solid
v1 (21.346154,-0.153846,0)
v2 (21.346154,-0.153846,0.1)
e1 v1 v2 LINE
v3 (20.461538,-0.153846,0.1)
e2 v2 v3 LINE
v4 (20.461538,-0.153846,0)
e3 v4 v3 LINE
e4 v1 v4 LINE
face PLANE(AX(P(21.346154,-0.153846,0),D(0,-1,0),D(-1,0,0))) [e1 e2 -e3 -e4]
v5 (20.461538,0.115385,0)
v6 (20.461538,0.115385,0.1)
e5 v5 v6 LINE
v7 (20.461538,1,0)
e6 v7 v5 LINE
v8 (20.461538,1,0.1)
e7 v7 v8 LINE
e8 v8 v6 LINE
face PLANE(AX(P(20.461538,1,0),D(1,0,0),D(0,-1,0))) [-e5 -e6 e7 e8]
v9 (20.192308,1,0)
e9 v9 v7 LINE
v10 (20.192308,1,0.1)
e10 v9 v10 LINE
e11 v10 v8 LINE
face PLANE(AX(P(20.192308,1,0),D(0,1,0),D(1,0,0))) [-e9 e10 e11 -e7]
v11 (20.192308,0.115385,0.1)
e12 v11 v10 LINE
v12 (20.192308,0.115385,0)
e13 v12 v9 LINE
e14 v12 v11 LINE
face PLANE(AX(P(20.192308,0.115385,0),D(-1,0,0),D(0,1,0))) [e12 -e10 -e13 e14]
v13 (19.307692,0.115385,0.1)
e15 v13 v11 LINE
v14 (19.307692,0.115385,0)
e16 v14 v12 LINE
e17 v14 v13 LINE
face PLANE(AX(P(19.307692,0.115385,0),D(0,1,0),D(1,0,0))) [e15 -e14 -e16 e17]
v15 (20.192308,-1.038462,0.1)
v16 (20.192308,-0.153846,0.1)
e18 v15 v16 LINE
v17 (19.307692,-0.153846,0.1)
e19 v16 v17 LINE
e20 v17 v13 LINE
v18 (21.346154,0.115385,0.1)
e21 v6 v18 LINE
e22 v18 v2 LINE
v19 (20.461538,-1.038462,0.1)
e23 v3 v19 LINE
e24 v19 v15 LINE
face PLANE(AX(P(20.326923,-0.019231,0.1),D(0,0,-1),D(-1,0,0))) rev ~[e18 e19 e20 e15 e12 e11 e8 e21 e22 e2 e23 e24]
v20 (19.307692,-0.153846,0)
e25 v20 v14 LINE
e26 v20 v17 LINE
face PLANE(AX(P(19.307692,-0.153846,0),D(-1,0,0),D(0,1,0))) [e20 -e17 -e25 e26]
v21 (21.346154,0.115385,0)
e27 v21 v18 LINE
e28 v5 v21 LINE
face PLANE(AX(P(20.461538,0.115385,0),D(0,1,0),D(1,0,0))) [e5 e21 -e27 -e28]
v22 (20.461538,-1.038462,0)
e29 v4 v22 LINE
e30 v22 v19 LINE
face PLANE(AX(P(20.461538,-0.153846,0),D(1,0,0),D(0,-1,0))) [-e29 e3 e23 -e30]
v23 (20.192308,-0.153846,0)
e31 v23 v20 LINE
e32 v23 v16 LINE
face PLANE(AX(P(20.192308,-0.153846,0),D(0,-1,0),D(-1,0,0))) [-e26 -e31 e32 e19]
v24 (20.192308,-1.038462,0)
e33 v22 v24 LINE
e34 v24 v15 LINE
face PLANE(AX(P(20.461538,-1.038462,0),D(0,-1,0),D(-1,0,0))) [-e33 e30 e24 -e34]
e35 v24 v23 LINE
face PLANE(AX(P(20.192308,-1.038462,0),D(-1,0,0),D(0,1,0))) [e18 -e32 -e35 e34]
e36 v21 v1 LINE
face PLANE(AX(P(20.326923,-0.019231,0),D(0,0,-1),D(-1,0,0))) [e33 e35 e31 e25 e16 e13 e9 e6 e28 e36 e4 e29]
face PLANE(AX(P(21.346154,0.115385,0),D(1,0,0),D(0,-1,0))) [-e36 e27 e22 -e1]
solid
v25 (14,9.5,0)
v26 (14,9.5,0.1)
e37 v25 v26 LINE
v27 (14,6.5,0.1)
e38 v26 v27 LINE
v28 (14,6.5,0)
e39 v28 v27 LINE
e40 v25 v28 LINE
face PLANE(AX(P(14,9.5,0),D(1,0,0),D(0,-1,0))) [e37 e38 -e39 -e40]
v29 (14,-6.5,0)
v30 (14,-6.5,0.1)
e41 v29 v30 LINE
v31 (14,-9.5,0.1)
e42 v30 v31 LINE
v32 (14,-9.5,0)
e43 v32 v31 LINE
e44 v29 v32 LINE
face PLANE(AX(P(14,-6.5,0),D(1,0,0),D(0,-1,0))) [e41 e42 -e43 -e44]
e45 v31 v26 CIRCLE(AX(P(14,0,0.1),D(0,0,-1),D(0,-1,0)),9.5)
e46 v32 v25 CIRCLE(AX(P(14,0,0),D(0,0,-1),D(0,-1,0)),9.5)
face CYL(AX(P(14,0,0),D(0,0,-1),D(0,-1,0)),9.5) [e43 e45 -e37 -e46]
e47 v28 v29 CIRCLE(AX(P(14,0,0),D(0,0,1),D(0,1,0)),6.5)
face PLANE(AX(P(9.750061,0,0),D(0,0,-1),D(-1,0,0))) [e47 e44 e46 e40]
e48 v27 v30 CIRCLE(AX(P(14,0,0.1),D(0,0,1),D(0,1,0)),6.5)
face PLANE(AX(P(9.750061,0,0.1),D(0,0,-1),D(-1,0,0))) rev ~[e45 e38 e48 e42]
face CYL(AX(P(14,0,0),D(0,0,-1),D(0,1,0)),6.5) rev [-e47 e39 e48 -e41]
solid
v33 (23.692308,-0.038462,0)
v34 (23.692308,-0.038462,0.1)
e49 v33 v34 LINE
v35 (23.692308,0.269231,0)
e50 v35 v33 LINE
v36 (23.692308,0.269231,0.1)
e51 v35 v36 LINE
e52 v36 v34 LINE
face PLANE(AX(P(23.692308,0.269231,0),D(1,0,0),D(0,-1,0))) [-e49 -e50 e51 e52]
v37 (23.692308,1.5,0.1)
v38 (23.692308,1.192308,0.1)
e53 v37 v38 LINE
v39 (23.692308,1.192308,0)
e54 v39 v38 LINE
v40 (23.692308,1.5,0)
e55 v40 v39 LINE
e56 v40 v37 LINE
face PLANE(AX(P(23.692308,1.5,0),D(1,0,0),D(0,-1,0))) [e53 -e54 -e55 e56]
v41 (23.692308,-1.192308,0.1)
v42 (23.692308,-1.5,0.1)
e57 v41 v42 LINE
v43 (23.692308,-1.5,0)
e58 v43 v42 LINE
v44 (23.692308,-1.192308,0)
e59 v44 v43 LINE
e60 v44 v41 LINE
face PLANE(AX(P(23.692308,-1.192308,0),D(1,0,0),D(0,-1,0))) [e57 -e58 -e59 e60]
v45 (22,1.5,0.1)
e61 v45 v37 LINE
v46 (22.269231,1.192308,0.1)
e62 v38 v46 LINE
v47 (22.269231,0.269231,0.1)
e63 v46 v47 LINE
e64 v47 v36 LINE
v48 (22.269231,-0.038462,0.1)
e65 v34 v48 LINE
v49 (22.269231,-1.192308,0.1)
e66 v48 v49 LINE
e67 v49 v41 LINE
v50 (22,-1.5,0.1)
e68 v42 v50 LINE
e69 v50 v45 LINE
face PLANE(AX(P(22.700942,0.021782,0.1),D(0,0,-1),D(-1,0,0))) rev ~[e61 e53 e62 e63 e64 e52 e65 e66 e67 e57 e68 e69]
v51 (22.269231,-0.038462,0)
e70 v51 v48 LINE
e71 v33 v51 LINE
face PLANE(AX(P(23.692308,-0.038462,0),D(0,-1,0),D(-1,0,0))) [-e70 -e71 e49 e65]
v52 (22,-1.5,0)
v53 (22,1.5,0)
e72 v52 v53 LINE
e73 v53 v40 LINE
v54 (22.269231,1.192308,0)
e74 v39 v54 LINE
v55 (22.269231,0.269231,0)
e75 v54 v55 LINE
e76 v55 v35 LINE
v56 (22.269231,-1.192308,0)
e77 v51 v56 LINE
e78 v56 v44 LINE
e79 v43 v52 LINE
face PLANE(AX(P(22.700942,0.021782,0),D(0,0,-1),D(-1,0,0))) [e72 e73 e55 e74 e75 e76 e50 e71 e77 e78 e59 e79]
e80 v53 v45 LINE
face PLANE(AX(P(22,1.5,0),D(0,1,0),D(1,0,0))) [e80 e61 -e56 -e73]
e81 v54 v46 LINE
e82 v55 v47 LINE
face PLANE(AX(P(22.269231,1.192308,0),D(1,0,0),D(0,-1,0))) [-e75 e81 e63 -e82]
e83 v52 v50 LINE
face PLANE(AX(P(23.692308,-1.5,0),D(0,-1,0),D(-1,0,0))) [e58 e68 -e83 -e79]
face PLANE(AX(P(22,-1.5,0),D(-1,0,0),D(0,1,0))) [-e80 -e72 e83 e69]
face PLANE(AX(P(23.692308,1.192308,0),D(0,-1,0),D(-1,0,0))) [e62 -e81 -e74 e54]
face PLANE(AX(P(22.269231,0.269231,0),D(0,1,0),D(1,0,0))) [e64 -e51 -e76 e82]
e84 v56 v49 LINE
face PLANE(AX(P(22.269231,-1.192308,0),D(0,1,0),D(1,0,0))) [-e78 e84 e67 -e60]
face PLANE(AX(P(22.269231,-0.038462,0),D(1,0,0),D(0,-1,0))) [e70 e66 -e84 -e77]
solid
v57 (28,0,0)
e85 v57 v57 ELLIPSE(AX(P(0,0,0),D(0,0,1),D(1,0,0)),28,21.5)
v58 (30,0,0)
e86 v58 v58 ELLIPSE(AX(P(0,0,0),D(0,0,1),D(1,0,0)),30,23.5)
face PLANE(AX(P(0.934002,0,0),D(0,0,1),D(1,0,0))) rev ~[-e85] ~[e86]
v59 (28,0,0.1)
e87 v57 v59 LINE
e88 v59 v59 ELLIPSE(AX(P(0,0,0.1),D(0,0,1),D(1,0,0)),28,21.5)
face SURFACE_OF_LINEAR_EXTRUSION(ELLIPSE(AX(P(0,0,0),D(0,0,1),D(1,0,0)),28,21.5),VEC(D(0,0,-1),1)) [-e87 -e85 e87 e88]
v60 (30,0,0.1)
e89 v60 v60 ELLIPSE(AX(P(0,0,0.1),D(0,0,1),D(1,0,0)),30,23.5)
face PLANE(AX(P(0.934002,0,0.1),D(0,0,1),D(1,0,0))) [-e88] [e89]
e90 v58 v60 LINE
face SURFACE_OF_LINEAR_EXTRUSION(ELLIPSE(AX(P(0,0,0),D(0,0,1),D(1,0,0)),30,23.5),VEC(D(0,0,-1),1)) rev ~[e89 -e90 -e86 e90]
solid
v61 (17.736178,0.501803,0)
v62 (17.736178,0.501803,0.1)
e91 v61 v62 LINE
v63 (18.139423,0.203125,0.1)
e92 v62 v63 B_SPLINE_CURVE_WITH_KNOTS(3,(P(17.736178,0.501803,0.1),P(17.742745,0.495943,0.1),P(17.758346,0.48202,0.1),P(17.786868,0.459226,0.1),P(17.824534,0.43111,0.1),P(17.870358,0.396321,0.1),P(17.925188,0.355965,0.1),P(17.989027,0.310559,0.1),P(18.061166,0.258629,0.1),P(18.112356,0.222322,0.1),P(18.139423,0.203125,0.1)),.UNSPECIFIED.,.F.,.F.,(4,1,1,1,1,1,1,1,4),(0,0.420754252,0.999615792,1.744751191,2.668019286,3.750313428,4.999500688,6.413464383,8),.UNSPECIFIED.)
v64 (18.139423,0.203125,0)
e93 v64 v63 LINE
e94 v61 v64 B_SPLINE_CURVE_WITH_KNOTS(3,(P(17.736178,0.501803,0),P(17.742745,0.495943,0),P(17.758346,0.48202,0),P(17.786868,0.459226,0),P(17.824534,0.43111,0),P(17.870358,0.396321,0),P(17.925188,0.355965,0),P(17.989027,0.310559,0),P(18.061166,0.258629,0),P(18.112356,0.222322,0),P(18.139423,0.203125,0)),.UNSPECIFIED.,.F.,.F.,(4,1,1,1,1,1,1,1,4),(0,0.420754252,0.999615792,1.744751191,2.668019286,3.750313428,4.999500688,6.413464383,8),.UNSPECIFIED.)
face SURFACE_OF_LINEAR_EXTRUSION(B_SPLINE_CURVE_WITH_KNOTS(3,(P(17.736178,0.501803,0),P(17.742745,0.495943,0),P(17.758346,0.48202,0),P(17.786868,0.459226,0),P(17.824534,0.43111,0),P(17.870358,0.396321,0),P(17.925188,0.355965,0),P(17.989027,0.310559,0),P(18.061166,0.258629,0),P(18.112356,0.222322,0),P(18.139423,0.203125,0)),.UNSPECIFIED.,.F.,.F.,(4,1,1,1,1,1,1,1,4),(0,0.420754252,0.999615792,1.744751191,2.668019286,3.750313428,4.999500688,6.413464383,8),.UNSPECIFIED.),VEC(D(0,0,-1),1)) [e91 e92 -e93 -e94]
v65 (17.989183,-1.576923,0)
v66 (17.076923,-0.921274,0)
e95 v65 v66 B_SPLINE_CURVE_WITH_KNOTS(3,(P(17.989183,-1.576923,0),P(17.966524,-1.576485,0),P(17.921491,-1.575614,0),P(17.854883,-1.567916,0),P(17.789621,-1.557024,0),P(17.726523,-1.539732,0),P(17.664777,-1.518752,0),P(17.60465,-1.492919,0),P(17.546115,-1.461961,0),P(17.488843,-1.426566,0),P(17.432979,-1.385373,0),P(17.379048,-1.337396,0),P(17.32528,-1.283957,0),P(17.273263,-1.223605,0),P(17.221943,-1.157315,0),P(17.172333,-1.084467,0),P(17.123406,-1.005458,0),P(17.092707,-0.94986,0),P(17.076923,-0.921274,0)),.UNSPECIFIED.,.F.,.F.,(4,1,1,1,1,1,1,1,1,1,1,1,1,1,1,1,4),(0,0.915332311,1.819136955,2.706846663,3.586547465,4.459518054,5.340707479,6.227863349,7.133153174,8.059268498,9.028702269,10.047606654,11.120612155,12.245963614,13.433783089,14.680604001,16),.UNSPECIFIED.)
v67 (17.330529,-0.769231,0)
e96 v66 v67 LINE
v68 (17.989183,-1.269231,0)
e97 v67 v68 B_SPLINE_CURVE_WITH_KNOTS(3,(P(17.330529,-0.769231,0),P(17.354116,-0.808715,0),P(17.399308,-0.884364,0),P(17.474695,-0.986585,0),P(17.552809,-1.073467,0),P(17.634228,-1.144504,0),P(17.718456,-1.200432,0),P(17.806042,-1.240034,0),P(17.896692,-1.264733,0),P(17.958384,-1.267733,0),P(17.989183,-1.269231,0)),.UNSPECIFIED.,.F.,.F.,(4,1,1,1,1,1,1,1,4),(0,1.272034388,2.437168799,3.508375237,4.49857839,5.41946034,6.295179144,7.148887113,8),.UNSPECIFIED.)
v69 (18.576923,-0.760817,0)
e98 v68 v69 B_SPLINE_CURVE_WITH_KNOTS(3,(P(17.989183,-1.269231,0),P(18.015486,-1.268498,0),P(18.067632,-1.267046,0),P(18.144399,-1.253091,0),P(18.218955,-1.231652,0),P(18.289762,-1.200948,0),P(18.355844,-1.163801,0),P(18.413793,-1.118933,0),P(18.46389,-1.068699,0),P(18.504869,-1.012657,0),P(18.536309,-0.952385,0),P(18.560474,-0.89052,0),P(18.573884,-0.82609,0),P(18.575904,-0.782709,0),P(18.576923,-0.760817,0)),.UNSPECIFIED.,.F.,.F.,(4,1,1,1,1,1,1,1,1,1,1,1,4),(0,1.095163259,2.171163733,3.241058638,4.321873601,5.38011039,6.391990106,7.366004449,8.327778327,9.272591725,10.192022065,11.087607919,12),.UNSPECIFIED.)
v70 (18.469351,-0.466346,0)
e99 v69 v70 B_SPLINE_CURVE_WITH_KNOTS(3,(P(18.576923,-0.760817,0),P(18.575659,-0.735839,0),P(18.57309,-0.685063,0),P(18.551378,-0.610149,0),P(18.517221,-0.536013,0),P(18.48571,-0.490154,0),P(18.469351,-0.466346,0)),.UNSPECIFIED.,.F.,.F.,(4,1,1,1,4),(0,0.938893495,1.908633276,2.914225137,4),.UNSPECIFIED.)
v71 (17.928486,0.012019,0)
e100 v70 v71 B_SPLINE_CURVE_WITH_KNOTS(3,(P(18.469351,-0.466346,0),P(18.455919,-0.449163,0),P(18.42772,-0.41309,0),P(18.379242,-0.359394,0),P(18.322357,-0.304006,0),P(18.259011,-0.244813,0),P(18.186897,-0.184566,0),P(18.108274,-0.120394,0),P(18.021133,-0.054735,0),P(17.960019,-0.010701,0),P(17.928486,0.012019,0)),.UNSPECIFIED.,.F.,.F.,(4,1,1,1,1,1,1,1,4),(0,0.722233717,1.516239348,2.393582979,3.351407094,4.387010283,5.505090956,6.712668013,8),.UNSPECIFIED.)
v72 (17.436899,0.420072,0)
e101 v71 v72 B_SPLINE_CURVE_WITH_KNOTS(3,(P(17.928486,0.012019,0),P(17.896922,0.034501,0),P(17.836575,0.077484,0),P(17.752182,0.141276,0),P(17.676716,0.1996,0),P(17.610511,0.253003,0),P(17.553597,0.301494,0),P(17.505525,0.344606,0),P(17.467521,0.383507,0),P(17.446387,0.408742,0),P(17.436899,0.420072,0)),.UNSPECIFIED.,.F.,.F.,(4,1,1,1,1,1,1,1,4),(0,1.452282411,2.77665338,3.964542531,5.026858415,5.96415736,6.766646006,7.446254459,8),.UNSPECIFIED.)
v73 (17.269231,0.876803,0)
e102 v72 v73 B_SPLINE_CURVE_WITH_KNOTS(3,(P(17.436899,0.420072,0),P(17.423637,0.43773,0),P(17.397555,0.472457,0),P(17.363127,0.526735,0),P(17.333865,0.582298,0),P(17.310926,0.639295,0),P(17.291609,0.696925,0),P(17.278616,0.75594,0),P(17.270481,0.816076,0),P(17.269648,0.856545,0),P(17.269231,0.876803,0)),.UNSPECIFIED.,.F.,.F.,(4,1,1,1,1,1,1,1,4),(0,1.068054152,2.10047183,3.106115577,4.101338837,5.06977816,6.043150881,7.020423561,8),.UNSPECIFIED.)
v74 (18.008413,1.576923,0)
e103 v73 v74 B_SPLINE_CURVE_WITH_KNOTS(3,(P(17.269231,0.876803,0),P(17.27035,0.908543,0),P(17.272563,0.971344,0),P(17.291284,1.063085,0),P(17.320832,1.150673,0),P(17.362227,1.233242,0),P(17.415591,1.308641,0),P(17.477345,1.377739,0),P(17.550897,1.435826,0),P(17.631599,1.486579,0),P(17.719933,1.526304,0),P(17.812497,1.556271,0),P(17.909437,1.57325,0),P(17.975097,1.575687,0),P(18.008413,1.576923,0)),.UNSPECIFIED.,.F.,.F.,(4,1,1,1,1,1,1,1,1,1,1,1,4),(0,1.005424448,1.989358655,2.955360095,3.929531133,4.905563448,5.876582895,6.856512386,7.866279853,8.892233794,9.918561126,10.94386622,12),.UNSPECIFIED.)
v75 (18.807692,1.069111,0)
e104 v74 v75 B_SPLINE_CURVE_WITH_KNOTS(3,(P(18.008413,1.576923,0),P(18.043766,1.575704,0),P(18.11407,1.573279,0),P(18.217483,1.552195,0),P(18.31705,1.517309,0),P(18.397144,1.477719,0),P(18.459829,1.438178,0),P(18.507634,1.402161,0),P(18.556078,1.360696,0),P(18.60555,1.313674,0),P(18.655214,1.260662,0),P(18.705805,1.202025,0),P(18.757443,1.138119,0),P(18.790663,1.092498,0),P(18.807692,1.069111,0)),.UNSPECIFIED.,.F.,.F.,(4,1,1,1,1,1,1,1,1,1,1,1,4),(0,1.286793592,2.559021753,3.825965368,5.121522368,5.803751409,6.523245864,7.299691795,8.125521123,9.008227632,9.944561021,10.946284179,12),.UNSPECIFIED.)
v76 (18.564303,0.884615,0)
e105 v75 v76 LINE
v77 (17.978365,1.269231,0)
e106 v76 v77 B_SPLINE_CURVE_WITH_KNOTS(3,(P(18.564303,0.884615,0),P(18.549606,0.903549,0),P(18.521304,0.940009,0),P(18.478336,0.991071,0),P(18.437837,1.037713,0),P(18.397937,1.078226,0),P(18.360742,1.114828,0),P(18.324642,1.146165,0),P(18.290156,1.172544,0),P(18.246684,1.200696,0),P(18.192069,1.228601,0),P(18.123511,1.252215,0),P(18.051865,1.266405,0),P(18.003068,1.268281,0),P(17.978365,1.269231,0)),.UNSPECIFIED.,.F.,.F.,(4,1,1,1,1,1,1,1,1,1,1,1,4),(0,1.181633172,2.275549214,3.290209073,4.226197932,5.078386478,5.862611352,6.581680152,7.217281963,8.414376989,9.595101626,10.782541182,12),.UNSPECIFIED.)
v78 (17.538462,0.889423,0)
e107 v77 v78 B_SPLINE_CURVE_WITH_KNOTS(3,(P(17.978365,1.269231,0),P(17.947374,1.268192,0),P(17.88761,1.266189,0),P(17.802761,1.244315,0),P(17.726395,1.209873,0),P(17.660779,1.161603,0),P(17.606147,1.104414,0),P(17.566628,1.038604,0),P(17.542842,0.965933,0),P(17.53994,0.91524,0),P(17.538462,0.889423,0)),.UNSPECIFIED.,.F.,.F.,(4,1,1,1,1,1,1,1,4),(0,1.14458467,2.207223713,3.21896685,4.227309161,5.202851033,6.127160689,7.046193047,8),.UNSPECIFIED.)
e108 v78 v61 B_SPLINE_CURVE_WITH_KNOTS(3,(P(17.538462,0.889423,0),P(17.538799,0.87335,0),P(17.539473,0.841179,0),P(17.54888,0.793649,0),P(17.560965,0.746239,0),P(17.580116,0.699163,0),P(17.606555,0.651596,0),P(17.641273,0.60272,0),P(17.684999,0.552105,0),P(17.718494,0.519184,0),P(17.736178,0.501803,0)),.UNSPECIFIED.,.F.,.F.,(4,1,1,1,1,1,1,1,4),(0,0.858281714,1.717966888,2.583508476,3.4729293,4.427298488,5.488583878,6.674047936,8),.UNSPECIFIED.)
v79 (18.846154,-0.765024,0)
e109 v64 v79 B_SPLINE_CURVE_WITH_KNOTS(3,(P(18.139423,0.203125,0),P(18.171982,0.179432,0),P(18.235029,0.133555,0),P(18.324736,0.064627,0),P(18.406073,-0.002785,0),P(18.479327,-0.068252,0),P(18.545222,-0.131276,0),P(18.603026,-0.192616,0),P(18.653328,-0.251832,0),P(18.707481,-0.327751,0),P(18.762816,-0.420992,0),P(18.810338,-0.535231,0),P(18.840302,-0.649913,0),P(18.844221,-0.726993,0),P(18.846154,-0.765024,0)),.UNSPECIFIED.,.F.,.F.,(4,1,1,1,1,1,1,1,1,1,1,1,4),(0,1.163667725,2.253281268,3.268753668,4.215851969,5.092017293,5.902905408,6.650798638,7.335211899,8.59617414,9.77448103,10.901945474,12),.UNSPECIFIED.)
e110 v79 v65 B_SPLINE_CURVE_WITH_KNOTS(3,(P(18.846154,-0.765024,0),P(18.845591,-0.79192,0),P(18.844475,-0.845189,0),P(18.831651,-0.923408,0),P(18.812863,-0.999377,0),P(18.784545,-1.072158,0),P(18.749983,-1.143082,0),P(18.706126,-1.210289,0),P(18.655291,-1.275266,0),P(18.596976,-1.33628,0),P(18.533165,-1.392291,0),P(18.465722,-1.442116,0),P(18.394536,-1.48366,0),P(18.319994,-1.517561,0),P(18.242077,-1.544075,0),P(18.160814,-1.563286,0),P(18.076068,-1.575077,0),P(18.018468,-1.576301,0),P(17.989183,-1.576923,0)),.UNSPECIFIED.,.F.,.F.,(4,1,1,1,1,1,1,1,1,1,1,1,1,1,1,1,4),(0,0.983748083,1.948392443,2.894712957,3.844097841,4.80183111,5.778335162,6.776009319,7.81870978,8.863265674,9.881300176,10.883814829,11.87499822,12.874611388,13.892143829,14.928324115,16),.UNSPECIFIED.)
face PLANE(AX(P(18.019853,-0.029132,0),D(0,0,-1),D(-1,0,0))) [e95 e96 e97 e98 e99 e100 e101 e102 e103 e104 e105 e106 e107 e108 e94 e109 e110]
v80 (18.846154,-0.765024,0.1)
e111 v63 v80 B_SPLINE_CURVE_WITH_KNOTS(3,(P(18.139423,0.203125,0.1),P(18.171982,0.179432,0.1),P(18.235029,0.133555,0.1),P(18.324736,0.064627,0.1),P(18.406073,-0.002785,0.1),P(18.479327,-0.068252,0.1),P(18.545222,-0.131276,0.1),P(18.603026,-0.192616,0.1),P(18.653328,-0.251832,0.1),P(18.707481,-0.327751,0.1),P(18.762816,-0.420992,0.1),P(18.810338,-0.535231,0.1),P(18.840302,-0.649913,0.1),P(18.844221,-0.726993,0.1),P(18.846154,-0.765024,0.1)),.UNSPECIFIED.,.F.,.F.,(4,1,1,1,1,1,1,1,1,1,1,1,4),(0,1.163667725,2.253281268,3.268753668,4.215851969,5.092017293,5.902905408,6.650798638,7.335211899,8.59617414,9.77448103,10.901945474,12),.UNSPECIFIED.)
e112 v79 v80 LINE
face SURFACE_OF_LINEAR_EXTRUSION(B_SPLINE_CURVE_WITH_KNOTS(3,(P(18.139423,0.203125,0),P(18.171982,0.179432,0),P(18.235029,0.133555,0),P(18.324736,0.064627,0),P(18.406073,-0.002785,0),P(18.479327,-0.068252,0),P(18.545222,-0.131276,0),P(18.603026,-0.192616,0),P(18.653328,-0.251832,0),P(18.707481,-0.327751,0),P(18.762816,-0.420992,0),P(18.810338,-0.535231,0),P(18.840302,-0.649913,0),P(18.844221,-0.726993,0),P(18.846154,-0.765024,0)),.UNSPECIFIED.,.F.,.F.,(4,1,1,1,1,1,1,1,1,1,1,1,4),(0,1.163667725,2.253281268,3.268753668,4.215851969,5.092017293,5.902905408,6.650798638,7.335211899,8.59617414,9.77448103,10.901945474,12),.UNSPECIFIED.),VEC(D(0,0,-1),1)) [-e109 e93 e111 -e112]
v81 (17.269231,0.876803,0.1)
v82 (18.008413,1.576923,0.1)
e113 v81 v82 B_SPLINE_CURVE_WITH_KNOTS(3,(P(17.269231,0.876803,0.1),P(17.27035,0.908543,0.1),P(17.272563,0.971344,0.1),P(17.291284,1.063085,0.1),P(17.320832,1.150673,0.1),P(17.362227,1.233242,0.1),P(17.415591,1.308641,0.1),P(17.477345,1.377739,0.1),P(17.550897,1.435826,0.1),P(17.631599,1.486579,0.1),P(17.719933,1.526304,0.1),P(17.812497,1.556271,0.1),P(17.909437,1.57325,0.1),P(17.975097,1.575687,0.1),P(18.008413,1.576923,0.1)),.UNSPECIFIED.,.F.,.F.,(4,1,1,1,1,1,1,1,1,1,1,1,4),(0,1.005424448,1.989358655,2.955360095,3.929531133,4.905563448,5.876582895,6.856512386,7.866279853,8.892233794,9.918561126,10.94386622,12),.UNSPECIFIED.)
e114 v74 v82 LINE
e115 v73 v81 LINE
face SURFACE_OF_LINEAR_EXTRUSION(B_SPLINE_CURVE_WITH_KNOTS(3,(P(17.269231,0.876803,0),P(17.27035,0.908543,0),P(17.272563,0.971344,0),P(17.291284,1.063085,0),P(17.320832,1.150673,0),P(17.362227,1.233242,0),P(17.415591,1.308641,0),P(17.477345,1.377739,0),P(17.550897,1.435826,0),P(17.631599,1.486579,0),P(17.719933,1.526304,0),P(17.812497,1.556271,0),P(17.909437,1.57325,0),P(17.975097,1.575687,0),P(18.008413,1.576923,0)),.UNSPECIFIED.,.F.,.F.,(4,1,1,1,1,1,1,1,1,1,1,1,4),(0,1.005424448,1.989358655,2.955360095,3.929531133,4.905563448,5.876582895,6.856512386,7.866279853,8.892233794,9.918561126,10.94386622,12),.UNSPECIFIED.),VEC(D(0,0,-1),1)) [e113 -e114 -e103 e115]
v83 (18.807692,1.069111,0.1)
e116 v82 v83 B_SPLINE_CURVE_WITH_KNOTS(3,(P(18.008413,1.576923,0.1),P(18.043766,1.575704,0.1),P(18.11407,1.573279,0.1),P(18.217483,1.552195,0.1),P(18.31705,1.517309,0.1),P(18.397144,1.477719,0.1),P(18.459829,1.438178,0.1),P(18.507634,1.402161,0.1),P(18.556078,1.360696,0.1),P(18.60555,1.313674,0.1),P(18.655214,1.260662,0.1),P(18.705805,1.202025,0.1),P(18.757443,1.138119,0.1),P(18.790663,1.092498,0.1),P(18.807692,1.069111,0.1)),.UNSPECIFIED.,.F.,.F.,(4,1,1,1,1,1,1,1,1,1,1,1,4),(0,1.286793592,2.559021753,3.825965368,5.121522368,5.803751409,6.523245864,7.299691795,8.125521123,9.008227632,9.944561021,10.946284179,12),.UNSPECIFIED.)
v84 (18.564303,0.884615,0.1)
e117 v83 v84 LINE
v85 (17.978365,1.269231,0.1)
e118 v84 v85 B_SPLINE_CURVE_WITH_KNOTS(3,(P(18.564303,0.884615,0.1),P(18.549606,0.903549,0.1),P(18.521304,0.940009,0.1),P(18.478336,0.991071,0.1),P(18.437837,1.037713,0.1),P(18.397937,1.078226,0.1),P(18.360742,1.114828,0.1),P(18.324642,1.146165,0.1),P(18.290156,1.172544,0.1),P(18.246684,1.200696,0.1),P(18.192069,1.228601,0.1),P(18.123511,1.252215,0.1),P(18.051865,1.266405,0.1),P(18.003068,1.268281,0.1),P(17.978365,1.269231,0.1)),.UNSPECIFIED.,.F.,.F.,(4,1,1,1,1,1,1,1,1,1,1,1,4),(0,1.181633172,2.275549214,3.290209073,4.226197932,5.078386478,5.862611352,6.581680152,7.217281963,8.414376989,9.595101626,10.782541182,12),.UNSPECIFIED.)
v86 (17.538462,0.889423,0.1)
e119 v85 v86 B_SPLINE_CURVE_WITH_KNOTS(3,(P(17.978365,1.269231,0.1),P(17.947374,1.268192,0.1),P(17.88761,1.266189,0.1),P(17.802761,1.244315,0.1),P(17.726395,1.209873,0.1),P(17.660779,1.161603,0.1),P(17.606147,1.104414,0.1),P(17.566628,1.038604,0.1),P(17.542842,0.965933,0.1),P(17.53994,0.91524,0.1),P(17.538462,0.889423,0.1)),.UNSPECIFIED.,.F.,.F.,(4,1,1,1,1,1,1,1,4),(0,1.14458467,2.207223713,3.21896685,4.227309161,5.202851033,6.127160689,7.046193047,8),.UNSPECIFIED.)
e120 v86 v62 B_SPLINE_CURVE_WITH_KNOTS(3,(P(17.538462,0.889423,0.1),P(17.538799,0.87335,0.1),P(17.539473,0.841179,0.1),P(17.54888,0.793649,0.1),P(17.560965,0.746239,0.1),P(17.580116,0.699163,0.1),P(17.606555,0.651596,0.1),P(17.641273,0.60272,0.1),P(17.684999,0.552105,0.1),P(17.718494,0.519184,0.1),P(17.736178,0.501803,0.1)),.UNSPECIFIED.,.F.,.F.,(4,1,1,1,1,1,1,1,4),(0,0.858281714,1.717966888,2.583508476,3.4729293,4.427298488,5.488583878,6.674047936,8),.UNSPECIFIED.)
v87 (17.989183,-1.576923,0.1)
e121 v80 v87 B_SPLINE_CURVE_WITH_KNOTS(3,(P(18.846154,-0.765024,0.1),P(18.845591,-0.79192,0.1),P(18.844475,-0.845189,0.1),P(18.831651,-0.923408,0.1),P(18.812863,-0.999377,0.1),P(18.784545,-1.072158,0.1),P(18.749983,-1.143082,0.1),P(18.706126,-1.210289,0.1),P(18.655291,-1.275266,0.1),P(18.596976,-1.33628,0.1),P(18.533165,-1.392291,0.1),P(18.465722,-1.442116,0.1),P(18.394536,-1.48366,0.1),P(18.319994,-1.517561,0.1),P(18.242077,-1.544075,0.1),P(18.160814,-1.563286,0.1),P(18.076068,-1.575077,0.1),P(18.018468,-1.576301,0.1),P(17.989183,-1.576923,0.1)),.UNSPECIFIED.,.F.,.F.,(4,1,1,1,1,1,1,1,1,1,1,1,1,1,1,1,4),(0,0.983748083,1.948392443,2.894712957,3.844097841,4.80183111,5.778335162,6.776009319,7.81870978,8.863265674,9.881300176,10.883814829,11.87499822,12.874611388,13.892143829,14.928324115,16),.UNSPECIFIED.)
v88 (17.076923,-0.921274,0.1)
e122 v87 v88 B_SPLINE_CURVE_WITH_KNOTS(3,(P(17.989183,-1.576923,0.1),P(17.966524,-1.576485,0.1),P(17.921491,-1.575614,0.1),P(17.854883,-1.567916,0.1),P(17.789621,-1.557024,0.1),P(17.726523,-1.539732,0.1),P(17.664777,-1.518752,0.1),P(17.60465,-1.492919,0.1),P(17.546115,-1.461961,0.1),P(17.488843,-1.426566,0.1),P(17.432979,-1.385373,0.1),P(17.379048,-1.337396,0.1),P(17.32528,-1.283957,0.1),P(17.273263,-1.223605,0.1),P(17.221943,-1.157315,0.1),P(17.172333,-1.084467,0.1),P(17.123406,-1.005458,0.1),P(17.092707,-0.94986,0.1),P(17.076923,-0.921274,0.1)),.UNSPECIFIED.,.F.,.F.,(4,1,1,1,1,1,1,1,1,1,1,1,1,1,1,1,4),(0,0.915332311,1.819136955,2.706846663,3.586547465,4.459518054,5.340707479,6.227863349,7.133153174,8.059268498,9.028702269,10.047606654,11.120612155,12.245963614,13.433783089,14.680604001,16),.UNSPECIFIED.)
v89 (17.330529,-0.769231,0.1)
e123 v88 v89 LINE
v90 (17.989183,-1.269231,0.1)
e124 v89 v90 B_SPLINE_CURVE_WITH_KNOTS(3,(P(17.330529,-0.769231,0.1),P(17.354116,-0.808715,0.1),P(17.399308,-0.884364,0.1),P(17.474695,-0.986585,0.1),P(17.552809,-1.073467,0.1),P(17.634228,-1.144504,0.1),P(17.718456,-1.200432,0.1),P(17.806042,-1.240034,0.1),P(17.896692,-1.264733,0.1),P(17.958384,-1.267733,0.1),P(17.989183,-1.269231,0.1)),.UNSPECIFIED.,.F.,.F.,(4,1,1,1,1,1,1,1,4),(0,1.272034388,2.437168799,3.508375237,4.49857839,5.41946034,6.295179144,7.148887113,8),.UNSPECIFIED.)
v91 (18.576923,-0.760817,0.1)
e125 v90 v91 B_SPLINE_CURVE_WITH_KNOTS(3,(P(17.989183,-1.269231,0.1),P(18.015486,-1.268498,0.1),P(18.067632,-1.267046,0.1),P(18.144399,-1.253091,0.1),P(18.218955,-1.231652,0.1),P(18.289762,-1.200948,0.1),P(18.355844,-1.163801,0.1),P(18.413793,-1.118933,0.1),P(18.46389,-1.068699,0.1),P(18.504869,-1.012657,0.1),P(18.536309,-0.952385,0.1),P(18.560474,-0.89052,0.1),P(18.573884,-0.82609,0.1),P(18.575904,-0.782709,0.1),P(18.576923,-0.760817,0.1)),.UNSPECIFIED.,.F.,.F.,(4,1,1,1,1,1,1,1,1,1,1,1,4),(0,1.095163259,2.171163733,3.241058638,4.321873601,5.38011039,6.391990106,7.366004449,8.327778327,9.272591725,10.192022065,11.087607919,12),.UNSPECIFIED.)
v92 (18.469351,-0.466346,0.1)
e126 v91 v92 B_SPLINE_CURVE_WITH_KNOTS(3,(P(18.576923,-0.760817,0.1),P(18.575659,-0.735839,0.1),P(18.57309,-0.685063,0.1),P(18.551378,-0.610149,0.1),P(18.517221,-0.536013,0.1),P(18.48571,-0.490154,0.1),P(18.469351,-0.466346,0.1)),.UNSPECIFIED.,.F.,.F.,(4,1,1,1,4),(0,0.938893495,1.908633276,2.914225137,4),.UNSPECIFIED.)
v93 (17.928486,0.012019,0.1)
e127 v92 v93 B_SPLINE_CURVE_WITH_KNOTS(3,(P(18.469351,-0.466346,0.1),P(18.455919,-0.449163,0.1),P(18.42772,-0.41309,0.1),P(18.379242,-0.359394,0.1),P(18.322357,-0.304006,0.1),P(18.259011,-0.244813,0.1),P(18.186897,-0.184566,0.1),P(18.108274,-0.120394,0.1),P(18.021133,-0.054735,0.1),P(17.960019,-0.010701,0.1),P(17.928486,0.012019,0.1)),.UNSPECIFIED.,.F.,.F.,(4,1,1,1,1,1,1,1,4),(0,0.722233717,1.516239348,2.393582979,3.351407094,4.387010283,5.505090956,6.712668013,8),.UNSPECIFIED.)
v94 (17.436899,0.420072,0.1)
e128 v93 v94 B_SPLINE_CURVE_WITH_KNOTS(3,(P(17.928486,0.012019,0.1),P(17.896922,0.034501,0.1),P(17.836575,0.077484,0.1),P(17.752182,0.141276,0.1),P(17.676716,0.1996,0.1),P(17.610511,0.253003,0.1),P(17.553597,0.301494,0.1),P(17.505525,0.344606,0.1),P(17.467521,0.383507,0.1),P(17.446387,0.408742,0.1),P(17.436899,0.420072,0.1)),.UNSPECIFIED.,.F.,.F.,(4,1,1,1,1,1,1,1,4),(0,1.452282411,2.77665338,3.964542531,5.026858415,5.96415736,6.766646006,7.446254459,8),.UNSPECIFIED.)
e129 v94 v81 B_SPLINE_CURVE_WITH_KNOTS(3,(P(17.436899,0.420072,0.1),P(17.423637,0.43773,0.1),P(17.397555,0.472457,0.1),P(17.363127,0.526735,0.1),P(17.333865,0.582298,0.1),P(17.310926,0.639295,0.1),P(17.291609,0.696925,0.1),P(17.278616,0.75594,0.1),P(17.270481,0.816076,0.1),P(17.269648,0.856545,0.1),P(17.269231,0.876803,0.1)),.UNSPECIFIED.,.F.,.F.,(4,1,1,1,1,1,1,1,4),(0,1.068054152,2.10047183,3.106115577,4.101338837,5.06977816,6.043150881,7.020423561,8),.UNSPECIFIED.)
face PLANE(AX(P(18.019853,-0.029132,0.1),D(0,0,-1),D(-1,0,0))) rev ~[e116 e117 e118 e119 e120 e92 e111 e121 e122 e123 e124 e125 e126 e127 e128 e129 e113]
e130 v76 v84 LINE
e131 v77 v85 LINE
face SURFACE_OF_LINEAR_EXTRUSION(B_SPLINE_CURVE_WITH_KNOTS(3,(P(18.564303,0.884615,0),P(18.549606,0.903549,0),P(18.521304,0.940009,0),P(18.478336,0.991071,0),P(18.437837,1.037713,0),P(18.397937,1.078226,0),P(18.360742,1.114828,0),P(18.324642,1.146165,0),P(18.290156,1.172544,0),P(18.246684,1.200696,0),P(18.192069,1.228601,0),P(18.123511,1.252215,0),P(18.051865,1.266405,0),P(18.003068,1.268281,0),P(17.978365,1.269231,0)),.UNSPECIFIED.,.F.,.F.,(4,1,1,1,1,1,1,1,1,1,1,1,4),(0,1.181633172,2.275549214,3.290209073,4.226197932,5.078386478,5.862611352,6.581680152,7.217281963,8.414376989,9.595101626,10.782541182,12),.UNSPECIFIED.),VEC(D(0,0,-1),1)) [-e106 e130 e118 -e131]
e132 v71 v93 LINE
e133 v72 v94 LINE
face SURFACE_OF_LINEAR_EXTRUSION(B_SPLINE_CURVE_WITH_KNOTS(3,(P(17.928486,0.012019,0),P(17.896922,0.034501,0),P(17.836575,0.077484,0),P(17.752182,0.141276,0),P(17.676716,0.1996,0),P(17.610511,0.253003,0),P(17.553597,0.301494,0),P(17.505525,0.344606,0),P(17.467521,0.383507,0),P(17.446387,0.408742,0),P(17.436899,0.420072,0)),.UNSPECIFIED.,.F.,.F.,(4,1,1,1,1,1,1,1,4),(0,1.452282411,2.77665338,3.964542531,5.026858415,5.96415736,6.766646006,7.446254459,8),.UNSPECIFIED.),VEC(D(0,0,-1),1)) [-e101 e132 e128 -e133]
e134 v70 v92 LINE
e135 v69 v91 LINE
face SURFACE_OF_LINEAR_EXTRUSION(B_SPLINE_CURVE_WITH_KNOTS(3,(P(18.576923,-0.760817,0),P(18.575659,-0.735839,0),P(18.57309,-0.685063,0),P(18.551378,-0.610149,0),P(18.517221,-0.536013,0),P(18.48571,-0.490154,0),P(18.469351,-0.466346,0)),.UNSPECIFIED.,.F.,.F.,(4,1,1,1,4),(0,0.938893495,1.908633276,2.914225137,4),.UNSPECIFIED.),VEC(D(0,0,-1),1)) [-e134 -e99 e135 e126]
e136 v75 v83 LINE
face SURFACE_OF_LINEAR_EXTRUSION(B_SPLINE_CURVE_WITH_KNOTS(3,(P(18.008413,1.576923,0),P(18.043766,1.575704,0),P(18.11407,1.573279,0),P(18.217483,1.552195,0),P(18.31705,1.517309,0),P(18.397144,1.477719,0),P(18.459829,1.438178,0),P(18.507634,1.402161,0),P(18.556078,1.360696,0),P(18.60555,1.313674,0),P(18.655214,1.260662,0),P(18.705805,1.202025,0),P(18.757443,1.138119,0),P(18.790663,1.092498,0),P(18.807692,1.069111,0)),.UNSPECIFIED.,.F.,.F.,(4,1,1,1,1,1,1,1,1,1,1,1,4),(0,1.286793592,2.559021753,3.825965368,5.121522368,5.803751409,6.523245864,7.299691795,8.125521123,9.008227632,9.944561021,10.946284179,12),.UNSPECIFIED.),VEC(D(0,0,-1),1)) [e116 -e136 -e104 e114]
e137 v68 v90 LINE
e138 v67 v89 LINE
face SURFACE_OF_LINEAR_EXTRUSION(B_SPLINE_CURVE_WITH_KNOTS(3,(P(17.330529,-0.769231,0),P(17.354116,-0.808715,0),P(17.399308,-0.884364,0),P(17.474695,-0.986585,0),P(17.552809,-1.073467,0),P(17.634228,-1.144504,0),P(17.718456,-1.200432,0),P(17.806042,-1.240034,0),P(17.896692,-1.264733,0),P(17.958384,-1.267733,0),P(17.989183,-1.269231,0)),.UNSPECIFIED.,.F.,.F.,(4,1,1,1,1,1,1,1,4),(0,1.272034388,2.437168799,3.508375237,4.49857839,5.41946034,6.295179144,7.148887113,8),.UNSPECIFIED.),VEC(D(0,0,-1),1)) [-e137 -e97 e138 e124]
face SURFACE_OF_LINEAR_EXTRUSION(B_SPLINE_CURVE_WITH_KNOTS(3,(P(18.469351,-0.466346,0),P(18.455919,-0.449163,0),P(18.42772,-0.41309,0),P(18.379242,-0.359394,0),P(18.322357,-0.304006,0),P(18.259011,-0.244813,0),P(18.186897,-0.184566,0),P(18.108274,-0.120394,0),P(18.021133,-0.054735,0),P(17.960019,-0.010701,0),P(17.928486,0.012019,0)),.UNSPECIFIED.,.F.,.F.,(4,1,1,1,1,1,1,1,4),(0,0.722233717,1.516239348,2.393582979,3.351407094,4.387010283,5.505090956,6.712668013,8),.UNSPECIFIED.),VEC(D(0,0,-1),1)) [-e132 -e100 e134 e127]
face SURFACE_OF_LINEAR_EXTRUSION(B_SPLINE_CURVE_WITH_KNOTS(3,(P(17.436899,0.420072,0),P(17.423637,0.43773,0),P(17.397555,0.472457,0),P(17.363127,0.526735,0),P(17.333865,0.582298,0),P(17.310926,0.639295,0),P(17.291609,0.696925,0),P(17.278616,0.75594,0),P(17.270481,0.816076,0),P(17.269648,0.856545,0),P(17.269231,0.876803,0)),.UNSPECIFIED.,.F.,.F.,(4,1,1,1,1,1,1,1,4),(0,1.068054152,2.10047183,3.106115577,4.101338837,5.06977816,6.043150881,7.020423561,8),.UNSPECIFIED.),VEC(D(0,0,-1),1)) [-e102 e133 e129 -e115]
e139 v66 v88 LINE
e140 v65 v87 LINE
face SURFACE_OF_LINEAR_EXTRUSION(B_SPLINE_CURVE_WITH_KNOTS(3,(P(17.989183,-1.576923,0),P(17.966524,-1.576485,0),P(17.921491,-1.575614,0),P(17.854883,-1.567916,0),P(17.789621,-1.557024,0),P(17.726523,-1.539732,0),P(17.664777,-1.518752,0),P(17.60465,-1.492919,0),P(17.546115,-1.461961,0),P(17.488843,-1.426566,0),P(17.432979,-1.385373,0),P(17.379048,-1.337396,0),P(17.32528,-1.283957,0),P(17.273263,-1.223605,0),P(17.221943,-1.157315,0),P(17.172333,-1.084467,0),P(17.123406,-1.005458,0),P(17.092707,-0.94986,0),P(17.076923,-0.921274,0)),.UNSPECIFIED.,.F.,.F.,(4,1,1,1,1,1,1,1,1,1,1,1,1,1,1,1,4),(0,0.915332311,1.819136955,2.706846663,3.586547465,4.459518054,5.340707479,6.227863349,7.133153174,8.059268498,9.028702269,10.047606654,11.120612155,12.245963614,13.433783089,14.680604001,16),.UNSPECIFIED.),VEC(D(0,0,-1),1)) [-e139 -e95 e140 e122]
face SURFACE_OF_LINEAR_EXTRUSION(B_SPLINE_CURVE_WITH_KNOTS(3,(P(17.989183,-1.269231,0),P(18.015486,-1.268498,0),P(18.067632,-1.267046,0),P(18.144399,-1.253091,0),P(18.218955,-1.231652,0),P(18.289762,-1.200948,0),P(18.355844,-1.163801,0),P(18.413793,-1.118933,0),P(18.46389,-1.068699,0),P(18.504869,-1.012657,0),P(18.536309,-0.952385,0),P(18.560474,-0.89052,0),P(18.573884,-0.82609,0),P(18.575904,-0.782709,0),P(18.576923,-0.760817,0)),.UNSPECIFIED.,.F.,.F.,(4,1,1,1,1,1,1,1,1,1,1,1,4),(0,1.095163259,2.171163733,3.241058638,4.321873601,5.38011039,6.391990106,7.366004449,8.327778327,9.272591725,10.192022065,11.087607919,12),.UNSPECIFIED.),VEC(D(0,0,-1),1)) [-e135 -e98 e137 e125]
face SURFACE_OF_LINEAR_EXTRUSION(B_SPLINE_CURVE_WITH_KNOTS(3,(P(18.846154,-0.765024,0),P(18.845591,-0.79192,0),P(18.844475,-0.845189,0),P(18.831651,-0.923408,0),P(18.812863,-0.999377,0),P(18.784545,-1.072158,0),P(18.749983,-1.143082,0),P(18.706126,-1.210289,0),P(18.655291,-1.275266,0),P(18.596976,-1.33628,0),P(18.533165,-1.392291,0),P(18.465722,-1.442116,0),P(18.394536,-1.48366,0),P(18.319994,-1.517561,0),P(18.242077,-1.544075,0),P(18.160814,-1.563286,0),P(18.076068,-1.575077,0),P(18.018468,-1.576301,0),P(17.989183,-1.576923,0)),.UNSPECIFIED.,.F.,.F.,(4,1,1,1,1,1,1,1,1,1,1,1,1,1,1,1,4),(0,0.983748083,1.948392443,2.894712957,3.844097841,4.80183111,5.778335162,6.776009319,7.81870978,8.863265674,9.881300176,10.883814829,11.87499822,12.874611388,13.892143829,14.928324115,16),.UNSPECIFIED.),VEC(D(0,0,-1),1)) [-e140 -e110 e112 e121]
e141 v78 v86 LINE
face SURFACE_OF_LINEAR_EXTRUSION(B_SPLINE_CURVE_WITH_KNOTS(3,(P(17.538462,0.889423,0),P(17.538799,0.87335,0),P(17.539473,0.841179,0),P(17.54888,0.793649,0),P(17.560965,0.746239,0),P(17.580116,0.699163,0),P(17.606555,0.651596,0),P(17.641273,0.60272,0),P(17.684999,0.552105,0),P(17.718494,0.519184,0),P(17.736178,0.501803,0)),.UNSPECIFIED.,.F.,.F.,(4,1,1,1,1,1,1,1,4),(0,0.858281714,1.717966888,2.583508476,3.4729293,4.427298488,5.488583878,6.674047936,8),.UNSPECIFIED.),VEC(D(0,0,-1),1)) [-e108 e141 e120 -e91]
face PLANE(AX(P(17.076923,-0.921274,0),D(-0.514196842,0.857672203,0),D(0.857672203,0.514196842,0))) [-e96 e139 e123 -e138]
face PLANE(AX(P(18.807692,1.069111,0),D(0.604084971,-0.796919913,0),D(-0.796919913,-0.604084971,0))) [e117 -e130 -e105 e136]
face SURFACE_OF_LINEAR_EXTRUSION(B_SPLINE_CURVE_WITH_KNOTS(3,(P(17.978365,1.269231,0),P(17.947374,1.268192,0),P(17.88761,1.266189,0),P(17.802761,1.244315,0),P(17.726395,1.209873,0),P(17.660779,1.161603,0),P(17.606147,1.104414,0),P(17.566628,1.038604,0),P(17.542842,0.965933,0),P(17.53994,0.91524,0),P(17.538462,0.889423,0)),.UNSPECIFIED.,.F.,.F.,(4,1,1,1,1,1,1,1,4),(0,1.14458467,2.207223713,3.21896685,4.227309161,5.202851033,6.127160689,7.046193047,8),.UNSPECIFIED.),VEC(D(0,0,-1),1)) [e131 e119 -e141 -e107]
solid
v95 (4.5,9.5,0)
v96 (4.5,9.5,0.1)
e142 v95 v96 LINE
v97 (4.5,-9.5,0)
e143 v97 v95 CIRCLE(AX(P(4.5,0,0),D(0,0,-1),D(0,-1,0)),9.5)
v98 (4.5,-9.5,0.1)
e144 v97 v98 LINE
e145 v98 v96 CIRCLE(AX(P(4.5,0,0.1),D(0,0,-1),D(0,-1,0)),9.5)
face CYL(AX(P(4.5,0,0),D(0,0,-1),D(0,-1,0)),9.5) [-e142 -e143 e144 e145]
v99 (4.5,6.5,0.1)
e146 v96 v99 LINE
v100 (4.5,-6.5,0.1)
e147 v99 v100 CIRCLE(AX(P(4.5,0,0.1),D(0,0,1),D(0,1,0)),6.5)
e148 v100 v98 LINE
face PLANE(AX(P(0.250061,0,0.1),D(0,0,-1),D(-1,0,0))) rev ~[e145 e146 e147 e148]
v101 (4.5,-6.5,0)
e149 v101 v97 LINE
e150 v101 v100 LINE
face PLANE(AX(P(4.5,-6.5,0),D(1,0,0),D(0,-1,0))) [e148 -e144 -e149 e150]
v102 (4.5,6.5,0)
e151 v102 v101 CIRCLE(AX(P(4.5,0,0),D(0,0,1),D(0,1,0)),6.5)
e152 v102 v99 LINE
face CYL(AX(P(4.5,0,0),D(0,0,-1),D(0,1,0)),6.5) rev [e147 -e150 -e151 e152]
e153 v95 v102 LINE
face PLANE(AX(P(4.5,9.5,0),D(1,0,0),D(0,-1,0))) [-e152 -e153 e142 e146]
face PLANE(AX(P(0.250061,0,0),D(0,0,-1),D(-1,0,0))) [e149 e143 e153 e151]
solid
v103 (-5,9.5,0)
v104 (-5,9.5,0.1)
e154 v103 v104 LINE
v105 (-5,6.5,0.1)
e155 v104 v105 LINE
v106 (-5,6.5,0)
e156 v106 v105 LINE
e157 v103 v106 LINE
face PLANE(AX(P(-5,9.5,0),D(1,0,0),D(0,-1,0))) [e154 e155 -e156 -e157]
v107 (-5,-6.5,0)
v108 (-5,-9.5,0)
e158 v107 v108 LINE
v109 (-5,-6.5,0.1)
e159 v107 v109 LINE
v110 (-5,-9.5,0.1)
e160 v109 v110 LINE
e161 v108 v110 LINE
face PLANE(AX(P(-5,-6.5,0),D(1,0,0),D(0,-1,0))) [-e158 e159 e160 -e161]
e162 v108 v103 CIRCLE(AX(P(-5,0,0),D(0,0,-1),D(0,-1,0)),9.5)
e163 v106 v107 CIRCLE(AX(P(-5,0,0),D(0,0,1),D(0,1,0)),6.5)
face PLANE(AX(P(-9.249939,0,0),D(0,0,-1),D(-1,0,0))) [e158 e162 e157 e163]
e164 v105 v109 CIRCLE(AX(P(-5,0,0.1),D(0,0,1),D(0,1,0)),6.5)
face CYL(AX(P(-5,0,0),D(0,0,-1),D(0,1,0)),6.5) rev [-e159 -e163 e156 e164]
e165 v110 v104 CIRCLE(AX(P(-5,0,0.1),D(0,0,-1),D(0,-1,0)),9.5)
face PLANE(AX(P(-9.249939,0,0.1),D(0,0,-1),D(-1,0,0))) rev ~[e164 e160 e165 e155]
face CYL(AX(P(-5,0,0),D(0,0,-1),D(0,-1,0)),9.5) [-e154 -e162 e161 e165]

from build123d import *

# Parameters (mm, degrees)
SKIZZE1_RX                        = 30
SKIZZE1_RY                        = 23.5
SKIZZE1_RX_2                      = 28
SKIZZE1_RY_2                      = 21.5
AUFSATZ_LINEAR_AUSTRAGEN1_DEPTH   = 0.1
AUFSATZ_LINEAR_AUSTRAGEN1_2_DEPTH = 0.1
AUFSATZ_LINEAR_AUSTRAGEN1_3_DEPTH = 0.1
AUFSATZ_LINEAR_AUSTRAGEN1_4_DEPTH = 0.1
AUFSATZ_LINEAR_AUSTRAGEN2_DEPTH   = 0.1
AUFSATZ_LINEAR_AUSTRAGEN2_2_DEPTH = 0.1
AUFSATZ_LINEAR_AUSTRAGEN2_3_DEPTH = 0.1


with BuildPart() as part:
    # Skizze1 → Aufsatz-Linear austragen1 (new body)
    with BuildSketch(Plane.XY):
        with Locations((0, 0)):
            Ellipse(SKIZZE1_RX, SKIZZE1_RY)
        with Locations((0, 0)):
            Ellipse(SKIZZE1_RX_2, SKIZZE1_RY_2, mode=Mode.SUBTRACT)
    extrude(amount=AUFSATZ_LINEAR_AUSTRAGEN1_DEPTH)


with BuildPart() as body_2:
    # Skizze1 → Aufsatz-Linear austragen1 2 (new body)
    with BuildSketch(Plane.XY):
        with BuildLine():
            ThreePointArc((-5, 6.5), (-11.5, 0), (-5, -6.5))
            Line((-5, -6.5), (-5, -9.5))
            ThreePointArc((-5, -9.5), (-14.5, 0), (-5, 9.5))
            Line((-5, 9.5), (-5, 6.5))
        make_face()
    extrude(amount=AUFSATZ_LINEAR_AUSTRAGEN1_2_DEPTH)


with BuildPart() as body_3:
    # Skizze1 → Aufsatz-Linear austragen1 3 (new body)
    with BuildSketch(Plane.XY):
        with BuildLine():
            ThreePointArc((4.5, 6.5), (-2, 0), (4.5, -6.5))
            Line((4.5, -6.5), (4.5, -9.5))
            ThreePointArc((4.5, -9.5), (-5, 0), (4.5, 9.5))
            Line((4.5, 9.5), (4.5, 6.5))
        make_face()
    extrude(amount=AUFSATZ_LINEAR_AUSTRAGEN1_3_DEPTH)


with BuildPart() as body_4:
    # Skizze1 → Aufsatz-Linear austragen1 4 (new body)
    with BuildSketch(Plane.XY):
        with BuildLine():
            ThreePointArc((14, 6.5), (7.5, 0), (14, -6.5))
            Line((14, -6.5), (14, -9.5))
            ThreePointArc((14, -9.5), (4.5, 0), (14, 9.5))
            Line((14, 9.5), (14, 6.5))
        make_face()
    extrude(amount=AUFSATZ_LINEAR_AUSTRAGEN1_4_DEPTH)


with BuildPart() as body_5:
    # Skizze4 → Aufsatz-Linear austragen2 (new body)
    with BuildSketch(Plane.XY):
        with BuildLine():
            Line((17.076923077, -0.921274038), (17.330528846, -0.769230769))
            add(Edge.make_bspline(
                [(17.330528846, -0.769230769), (17.354115907, -0.808714528), (17.399307804, -0.884363885), (17.474694684, -0.986585063), (17.552808607, -1.073466912), (17.634228036, -1.144504004), (17.718455992, -1.200431621), (17.806042324, -1.240033534), (17.896691876, -1.264732941), (17.958383723, -1.267733015), (17.989182692, -1.269230769)],
                knots=[0, 0, 0, 0, 1.272034388, 2.437168799, 3.508375237, 4.49857839, 5.41946034, 6.295179144, 7.148887113, 8, 8, 8, 8], degree=3))
            add(Edge.make_bspline(
                [(17.989182692, -1.269230769), (18.015485716, -1.268498193), (18.067631521, -1.267045858), (18.144399158, -1.253090885), (18.218954988, -1.231651917), (18.289762392, -1.200948262), (18.355844347, -1.163800988), (18.413792943, -1.118932836), (18.463889612, -1.068698946), (18.504868853, -1.01265667), (18.536308883, -0.952384829), (18.560473513, -0.890519727), (18.573883576, -0.826089526), (18.575903651, -0.782709129), (18.576923077, -0.760817308)],
                knots=[0, 0, 0, 0, 1.095163259, 2.171163733, 3.241058638, 4.321873601, 5.38011039, 6.391990106, 7.366004449, 8.327778327, 9.272591725, 10.192022065, 11.087607919, 12, 12, 12, 12], degree=3))
            add(Edge.make_bspline(
                [(18.576923077, -0.760817308), (18.575659382, -0.735839437), (18.573090475, -0.685063074), (18.551377778, -0.610149086), (18.51722128, -0.536012598), (18.485710443, -0.49015437), (18.469350962, -0.466346154)],
                knots=[0, 0, 0, 0, 0.938893495, 1.908633276, 2.914225137, 4, 4, 4, 4], degree=3))
            add(Edge.make_bspline(
                [(18.469350962, -0.466346154), (18.455919007, -0.449163162), (18.427720297, -0.413089621), (18.379242429, -0.359393704), (18.322357188, -0.304006488), (18.259011284, -0.244813011), (18.186897208, -0.184566328), (18.108273624, -0.120393518), (18.021133174, -0.054735024), (17.960019319, -0.010701396), (17.928485577, 0.012019231)],
                knots=[0, 0, 0, 0, 0.722233717, 1.516239348, 2.393582979, 3.351407094, 4.387010283, 5.505090956, 6.712668013, 8, 8, 8, 8], degree=3))
            add(Edge.make_bspline(
                [(17.928485577, 0.012019231), (17.896922152, 0.034500877), (17.836575286, 0.077484074), (17.752182215, 0.141276317), (17.676715533, 0.199599634), (17.610510662, 0.253003073), (17.553596721, 0.301493877), (17.505525226, 0.344606396), (17.467520749, 0.383506591), (17.446387394, 0.408742027), (17.436899038, 0.420072115)],
                knots=[0, 0, 0, 0, 1.452282411, 2.77665338, 3.964542531, 5.026858415, 5.96415736, 6.766646006, 7.446254459, 8, 8, 8, 8], degree=3))
            add(Edge.make_bspline(
                [(17.436899038, 0.420072115), (17.423636857, 0.437730147), (17.397554997, 0.472457036), (17.363126992, 0.526735485), (17.333864853, 0.582298284), (17.310925711, 0.63929474), (17.291608952, 0.696924679), (17.27861644, 0.755940032), (17.270480957, 0.816075991), (17.269647825, 0.856544706), (17.269230769, 0.876802885)],
                knots=[0, 0, 0, 0, 1.068054152, 2.10047183, 3.106115577, 4.101338837, 5.06977816, 6.043150881, 7.020423561, 8, 8, 8, 8], degree=3))
            add(Edge.make_bspline(
                [(17.269230769, 0.876802885), (17.27034952, 0.908542691), (17.272563108, 0.971343889), (17.291283552, 1.063084601), (17.320831746, 1.150672958), (17.362227365, 1.233241816), (17.41559081, 1.308641228), (17.477344502, 1.377738503), (17.550897205, 1.435825859), (17.631599453, 1.486579052), (17.719933486, 1.52630413), (17.812497118, 1.556270685), (17.909437465, 1.573250049), (17.975097295, 1.575686704), (18.008413462, 1.576923077)],
                knots=[0, 0, 0, 0, 1.005424448, 1.989358655, 2.955360095, 3.929531133, 4.905563448, 5.876582895, 6.856512386, 7.866279853, 8.892233794, 9.918561126, 10.94386622, 12, 12, 12, 12], degree=3))
            add(Edge.make_bspline(
                [(18.008413462, 1.576923077), (18.043765548, 1.575703747), (18.114069563, 1.573278889), (18.217483177, 1.552195291), (18.317049505, 1.517309001), (18.397143732, 1.477718722), (18.459828956, 1.438177509), (18.507634156, 1.402160517), (18.556077685, 1.360696138), (18.605550303, 1.313673927), (18.655213726, 1.260662426), (18.705805256, 1.202024693), (18.757443201, 1.138119073), (18.790662509, 1.092498073), (18.807692308, 1.069110577)],
                knots=[0, 0, 0, 0, 1.286793592, 2.559021753, 3.825965368, 5.121522368, 5.803751409, 6.523245864, 7.299691795, 8.125521123, 9.008227632, 9.944561021, 10.946284179, 12, 12, 12, 12], degree=3))
            Line((18.807692308, 1.069110577), (18.564302885, 0.884615385))
            add(Edge.make_bspline(
                [(18.564302885, 0.884615385), (18.549606371, 0.903548548), (18.521304322, 0.940009393), (18.478336191, 0.991070521), (18.437837349, 1.037713218), (18.397937007, 1.078226185), (18.360742466, 1.114828013), (18.324642144, 1.146164948), (18.290155557, 1.17254403), (18.246683919, 1.200695652), (18.192068732, 1.228601227), (18.123510558, 1.252214722), (18.051865179, 1.266404775), (18.003068353, 1.268280965), (17.978365385, 1.269230769)],
                knots=[0, 0, 0, 0, 1.181633172, 2.275549214, 3.290209073, 4.226197932, 5.078386478, 5.862611352, 6.581680152, 7.217281963, 8.414376989, 9.595101626, 10.782541182, 12, 12, 12, 12], degree=3))
            add(Edge.make_bspline(
                [(17.978365385, 1.269230769), (17.94737408, 1.268192169), (17.887610268, 1.266189327), (17.802761494, 1.244315054), (17.726395272, 1.209873459), (17.660778788, 1.161603478), (17.606147093, 1.104414056), (17.566628129, 1.038603609), (17.542842273, 0.965932978), (17.539939748, 0.91524013), (17.538461538, 0.889423077)],
                knots=[0, 0, 0, 0, 1.14458467, 2.207223713, 3.21896685, 4.227309161, 5.202851033, 6.127160689, 7.046193047, 8, 8, 8, 8], degree=3))
            add(Edge.make_bspline(
                [(17.538461538, 0.889423077), (17.538798504, 0.873350381), (17.539472987, 0.841178707), (17.548879956, 0.793648917), (17.560965095, 0.746239197), (17.580115922, 0.699162698), (17.606554754, 0.651596104), (17.641273476, 0.602720329), (17.684999172, 0.552104579), (17.718493754, 0.519183973), (17.736177885, 0.501802885)],
                knots=[0, 0, 0, 0, 0.858281714, 1.717966888, 2.583508476, 3.4729293, 4.427298488, 5.488583878, 6.674047936, 8, 8, 8, 8], degree=3))
            add(Edge.make_bspline(
                [(17.736177885, 0.501802885), (17.742744775, 0.495942577), (17.758346204, 0.482019827), (17.786868426, 0.459226443), (17.824533682, 0.431109781), (17.870358426, 0.396320653), (17.925187593, 0.355965114), (17.989027213, 0.310559161), (18.061165669, 0.258628767), (18.112355883, 0.222322304), (18.139423077, 0.203125)],
                knots=[0, 0, 0, 0, 0.420754252, 0.999615792, 1.744751191, 2.668019286, 3.750313428, 4.999500688, 6.413464383, 8, 8, 8, 8], degree=3))
            add(Edge.make_bspline(
                [(18.139423077, 0.203125), (18.171982431, 0.179432406), (18.235029108, 0.133554982), (18.324735605, 0.064627256), (18.406073155, -0.002785117), (18.479327329, -0.068251637), (18.545221822, -0.131275717), (18.603025583, -0.192615586), (18.653327595, -0.251831791), (18.707481211, -0.327751142), (18.762816484, -0.420992071), (18.810337776, -0.535230561), (18.840302074, -0.649913122), (18.844220516, -0.726993267), (18.846153846, -0.765024038)],
                knots=[0, 0, 0, 0, 1.163667725, 2.253281268, 3.268753668, 4.215851969, 5.092017293, 5.902905408, 6.650798638, 7.335211899, 8.59617414, 9.77448103, 10.901945474, 12, 12, 12, 12], degree=3))
            add(Edge.make_bspline(
                [(18.846153846, -0.765024038), (18.845590585, -0.79191978), (18.844475001, -0.845188966), (18.83165136, -0.923407603), (18.812863076, -0.99937692), (18.784545447, -1.072157874), (18.74998274, -1.143081956), (18.706125956, -1.210288728), (18.655290797, -1.275265641), (18.596976142, -1.336280062), (18.533165368, -1.392291087), (18.465722201, -1.442115997), (18.394536253, -1.483660274), (18.319993696, -1.517560996), (18.242077407, -1.544075439), (18.160813593, -1.56328647), (18.076068297, -1.575077079), (18.018467885, -1.576300875), (17.989182692, -1.576923077)],
                knots=[0, 0, 0, 0, 0.983748083, 1.948392443, 2.894712957, 3.844097841, 4.80183111, 5.778335162, 6.776009319, 7.81870978, 8.863265674, 9.881300176, 10.883814829, 11.87499822, 12.874611388, 13.892143829, 14.928324115, 16, 16, 16, 16], degree=3))
            add(Edge.make_bspline(
                [(17.989182692, -1.576923077), (17.966523827, -1.576484921), (17.921491461, -1.575614128), (17.854883334, -1.567915888), (17.789620829, -1.557024085), (17.726522873, -1.539732025), (17.66477652, -1.518751759), (17.604650319, -1.492918902), (17.54611513, -1.461961301), (17.488842916, -1.426565565), (17.432979338, -1.385373213), (17.379048365, -1.33739593), (17.325280492, -1.283956926), (17.273262724, -1.223605015), (17.221942886, -1.157315229), (17.17233282, -1.084467358), (17.123405634, -1.005458197), (17.092706661, -0.949859553), (17.076923077, -0.921274038)],
                knots=[0, 0, 0, 0, 0.915332311, 1.819136955, 2.706846663, 3.586547465, 4.459518054, 5.340707479, 6.227863349, 7.133153174, 8.059268498, 9.028702269, 10.047606654, 11.120612155, 12.245963614, 13.433783089, 14.680604001, 16, 16, 16, 16], degree=3))
        make_face()
    extrude(amount=AUFSATZ_LINEAR_AUSTRAGEN2_DEPTH)


with BuildPart() as body_6:
    # Skizze4 → Aufsatz-Linear austragen2 2 (new body)
    with BuildSketch(Plane.XY):
        Polygon((20.192307692, 0.115384615), (20.192307692, 1), (20.461538462, 1), (20.461538462, 0.115384615), (21.346153846, 0.115384615), (21.346153846, -0.153846154), (20.461538462, -0.153846154), (20.461538462, -1.038461538), (20.192307692, -1.038461538), (20.192307692, -0.153846154), (19.307692308, -0.153846154), (19.307692308, 0.115384615), align=None)
    extrude(amount=AUFSATZ_LINEAR_AUSTRAGEN2_2_DEPTH)


with BuildPart() as body_7:
    # Skizze4 → Aufsatz-Linear austragen2 3 (new body)
    with BuildSketch(Plane.XY):
        Polygon((22, 1.5), (23.692307692, 1.5), (23.692307692, 1.192307692), (22.269230769, 1.192307692), (22.269230769, 0.269230769), (23.692307692, 0.269230769), (23.692307692, -0.038461538), (22.269230769, -0.038461538), (22.269230769, -1.192307692), (23.692307692, -1.192307692), (23.692307692, -1.5), (22, -1.5), align=None)
    extrude(amount=AUFSATZ_LINEAR_AUSTRAGEN2_3_DEPTH)


solid = Compound([part.part, body_2.part, body_3.part, body_4.part, body_5.part, body_6.part, body_7.part])
